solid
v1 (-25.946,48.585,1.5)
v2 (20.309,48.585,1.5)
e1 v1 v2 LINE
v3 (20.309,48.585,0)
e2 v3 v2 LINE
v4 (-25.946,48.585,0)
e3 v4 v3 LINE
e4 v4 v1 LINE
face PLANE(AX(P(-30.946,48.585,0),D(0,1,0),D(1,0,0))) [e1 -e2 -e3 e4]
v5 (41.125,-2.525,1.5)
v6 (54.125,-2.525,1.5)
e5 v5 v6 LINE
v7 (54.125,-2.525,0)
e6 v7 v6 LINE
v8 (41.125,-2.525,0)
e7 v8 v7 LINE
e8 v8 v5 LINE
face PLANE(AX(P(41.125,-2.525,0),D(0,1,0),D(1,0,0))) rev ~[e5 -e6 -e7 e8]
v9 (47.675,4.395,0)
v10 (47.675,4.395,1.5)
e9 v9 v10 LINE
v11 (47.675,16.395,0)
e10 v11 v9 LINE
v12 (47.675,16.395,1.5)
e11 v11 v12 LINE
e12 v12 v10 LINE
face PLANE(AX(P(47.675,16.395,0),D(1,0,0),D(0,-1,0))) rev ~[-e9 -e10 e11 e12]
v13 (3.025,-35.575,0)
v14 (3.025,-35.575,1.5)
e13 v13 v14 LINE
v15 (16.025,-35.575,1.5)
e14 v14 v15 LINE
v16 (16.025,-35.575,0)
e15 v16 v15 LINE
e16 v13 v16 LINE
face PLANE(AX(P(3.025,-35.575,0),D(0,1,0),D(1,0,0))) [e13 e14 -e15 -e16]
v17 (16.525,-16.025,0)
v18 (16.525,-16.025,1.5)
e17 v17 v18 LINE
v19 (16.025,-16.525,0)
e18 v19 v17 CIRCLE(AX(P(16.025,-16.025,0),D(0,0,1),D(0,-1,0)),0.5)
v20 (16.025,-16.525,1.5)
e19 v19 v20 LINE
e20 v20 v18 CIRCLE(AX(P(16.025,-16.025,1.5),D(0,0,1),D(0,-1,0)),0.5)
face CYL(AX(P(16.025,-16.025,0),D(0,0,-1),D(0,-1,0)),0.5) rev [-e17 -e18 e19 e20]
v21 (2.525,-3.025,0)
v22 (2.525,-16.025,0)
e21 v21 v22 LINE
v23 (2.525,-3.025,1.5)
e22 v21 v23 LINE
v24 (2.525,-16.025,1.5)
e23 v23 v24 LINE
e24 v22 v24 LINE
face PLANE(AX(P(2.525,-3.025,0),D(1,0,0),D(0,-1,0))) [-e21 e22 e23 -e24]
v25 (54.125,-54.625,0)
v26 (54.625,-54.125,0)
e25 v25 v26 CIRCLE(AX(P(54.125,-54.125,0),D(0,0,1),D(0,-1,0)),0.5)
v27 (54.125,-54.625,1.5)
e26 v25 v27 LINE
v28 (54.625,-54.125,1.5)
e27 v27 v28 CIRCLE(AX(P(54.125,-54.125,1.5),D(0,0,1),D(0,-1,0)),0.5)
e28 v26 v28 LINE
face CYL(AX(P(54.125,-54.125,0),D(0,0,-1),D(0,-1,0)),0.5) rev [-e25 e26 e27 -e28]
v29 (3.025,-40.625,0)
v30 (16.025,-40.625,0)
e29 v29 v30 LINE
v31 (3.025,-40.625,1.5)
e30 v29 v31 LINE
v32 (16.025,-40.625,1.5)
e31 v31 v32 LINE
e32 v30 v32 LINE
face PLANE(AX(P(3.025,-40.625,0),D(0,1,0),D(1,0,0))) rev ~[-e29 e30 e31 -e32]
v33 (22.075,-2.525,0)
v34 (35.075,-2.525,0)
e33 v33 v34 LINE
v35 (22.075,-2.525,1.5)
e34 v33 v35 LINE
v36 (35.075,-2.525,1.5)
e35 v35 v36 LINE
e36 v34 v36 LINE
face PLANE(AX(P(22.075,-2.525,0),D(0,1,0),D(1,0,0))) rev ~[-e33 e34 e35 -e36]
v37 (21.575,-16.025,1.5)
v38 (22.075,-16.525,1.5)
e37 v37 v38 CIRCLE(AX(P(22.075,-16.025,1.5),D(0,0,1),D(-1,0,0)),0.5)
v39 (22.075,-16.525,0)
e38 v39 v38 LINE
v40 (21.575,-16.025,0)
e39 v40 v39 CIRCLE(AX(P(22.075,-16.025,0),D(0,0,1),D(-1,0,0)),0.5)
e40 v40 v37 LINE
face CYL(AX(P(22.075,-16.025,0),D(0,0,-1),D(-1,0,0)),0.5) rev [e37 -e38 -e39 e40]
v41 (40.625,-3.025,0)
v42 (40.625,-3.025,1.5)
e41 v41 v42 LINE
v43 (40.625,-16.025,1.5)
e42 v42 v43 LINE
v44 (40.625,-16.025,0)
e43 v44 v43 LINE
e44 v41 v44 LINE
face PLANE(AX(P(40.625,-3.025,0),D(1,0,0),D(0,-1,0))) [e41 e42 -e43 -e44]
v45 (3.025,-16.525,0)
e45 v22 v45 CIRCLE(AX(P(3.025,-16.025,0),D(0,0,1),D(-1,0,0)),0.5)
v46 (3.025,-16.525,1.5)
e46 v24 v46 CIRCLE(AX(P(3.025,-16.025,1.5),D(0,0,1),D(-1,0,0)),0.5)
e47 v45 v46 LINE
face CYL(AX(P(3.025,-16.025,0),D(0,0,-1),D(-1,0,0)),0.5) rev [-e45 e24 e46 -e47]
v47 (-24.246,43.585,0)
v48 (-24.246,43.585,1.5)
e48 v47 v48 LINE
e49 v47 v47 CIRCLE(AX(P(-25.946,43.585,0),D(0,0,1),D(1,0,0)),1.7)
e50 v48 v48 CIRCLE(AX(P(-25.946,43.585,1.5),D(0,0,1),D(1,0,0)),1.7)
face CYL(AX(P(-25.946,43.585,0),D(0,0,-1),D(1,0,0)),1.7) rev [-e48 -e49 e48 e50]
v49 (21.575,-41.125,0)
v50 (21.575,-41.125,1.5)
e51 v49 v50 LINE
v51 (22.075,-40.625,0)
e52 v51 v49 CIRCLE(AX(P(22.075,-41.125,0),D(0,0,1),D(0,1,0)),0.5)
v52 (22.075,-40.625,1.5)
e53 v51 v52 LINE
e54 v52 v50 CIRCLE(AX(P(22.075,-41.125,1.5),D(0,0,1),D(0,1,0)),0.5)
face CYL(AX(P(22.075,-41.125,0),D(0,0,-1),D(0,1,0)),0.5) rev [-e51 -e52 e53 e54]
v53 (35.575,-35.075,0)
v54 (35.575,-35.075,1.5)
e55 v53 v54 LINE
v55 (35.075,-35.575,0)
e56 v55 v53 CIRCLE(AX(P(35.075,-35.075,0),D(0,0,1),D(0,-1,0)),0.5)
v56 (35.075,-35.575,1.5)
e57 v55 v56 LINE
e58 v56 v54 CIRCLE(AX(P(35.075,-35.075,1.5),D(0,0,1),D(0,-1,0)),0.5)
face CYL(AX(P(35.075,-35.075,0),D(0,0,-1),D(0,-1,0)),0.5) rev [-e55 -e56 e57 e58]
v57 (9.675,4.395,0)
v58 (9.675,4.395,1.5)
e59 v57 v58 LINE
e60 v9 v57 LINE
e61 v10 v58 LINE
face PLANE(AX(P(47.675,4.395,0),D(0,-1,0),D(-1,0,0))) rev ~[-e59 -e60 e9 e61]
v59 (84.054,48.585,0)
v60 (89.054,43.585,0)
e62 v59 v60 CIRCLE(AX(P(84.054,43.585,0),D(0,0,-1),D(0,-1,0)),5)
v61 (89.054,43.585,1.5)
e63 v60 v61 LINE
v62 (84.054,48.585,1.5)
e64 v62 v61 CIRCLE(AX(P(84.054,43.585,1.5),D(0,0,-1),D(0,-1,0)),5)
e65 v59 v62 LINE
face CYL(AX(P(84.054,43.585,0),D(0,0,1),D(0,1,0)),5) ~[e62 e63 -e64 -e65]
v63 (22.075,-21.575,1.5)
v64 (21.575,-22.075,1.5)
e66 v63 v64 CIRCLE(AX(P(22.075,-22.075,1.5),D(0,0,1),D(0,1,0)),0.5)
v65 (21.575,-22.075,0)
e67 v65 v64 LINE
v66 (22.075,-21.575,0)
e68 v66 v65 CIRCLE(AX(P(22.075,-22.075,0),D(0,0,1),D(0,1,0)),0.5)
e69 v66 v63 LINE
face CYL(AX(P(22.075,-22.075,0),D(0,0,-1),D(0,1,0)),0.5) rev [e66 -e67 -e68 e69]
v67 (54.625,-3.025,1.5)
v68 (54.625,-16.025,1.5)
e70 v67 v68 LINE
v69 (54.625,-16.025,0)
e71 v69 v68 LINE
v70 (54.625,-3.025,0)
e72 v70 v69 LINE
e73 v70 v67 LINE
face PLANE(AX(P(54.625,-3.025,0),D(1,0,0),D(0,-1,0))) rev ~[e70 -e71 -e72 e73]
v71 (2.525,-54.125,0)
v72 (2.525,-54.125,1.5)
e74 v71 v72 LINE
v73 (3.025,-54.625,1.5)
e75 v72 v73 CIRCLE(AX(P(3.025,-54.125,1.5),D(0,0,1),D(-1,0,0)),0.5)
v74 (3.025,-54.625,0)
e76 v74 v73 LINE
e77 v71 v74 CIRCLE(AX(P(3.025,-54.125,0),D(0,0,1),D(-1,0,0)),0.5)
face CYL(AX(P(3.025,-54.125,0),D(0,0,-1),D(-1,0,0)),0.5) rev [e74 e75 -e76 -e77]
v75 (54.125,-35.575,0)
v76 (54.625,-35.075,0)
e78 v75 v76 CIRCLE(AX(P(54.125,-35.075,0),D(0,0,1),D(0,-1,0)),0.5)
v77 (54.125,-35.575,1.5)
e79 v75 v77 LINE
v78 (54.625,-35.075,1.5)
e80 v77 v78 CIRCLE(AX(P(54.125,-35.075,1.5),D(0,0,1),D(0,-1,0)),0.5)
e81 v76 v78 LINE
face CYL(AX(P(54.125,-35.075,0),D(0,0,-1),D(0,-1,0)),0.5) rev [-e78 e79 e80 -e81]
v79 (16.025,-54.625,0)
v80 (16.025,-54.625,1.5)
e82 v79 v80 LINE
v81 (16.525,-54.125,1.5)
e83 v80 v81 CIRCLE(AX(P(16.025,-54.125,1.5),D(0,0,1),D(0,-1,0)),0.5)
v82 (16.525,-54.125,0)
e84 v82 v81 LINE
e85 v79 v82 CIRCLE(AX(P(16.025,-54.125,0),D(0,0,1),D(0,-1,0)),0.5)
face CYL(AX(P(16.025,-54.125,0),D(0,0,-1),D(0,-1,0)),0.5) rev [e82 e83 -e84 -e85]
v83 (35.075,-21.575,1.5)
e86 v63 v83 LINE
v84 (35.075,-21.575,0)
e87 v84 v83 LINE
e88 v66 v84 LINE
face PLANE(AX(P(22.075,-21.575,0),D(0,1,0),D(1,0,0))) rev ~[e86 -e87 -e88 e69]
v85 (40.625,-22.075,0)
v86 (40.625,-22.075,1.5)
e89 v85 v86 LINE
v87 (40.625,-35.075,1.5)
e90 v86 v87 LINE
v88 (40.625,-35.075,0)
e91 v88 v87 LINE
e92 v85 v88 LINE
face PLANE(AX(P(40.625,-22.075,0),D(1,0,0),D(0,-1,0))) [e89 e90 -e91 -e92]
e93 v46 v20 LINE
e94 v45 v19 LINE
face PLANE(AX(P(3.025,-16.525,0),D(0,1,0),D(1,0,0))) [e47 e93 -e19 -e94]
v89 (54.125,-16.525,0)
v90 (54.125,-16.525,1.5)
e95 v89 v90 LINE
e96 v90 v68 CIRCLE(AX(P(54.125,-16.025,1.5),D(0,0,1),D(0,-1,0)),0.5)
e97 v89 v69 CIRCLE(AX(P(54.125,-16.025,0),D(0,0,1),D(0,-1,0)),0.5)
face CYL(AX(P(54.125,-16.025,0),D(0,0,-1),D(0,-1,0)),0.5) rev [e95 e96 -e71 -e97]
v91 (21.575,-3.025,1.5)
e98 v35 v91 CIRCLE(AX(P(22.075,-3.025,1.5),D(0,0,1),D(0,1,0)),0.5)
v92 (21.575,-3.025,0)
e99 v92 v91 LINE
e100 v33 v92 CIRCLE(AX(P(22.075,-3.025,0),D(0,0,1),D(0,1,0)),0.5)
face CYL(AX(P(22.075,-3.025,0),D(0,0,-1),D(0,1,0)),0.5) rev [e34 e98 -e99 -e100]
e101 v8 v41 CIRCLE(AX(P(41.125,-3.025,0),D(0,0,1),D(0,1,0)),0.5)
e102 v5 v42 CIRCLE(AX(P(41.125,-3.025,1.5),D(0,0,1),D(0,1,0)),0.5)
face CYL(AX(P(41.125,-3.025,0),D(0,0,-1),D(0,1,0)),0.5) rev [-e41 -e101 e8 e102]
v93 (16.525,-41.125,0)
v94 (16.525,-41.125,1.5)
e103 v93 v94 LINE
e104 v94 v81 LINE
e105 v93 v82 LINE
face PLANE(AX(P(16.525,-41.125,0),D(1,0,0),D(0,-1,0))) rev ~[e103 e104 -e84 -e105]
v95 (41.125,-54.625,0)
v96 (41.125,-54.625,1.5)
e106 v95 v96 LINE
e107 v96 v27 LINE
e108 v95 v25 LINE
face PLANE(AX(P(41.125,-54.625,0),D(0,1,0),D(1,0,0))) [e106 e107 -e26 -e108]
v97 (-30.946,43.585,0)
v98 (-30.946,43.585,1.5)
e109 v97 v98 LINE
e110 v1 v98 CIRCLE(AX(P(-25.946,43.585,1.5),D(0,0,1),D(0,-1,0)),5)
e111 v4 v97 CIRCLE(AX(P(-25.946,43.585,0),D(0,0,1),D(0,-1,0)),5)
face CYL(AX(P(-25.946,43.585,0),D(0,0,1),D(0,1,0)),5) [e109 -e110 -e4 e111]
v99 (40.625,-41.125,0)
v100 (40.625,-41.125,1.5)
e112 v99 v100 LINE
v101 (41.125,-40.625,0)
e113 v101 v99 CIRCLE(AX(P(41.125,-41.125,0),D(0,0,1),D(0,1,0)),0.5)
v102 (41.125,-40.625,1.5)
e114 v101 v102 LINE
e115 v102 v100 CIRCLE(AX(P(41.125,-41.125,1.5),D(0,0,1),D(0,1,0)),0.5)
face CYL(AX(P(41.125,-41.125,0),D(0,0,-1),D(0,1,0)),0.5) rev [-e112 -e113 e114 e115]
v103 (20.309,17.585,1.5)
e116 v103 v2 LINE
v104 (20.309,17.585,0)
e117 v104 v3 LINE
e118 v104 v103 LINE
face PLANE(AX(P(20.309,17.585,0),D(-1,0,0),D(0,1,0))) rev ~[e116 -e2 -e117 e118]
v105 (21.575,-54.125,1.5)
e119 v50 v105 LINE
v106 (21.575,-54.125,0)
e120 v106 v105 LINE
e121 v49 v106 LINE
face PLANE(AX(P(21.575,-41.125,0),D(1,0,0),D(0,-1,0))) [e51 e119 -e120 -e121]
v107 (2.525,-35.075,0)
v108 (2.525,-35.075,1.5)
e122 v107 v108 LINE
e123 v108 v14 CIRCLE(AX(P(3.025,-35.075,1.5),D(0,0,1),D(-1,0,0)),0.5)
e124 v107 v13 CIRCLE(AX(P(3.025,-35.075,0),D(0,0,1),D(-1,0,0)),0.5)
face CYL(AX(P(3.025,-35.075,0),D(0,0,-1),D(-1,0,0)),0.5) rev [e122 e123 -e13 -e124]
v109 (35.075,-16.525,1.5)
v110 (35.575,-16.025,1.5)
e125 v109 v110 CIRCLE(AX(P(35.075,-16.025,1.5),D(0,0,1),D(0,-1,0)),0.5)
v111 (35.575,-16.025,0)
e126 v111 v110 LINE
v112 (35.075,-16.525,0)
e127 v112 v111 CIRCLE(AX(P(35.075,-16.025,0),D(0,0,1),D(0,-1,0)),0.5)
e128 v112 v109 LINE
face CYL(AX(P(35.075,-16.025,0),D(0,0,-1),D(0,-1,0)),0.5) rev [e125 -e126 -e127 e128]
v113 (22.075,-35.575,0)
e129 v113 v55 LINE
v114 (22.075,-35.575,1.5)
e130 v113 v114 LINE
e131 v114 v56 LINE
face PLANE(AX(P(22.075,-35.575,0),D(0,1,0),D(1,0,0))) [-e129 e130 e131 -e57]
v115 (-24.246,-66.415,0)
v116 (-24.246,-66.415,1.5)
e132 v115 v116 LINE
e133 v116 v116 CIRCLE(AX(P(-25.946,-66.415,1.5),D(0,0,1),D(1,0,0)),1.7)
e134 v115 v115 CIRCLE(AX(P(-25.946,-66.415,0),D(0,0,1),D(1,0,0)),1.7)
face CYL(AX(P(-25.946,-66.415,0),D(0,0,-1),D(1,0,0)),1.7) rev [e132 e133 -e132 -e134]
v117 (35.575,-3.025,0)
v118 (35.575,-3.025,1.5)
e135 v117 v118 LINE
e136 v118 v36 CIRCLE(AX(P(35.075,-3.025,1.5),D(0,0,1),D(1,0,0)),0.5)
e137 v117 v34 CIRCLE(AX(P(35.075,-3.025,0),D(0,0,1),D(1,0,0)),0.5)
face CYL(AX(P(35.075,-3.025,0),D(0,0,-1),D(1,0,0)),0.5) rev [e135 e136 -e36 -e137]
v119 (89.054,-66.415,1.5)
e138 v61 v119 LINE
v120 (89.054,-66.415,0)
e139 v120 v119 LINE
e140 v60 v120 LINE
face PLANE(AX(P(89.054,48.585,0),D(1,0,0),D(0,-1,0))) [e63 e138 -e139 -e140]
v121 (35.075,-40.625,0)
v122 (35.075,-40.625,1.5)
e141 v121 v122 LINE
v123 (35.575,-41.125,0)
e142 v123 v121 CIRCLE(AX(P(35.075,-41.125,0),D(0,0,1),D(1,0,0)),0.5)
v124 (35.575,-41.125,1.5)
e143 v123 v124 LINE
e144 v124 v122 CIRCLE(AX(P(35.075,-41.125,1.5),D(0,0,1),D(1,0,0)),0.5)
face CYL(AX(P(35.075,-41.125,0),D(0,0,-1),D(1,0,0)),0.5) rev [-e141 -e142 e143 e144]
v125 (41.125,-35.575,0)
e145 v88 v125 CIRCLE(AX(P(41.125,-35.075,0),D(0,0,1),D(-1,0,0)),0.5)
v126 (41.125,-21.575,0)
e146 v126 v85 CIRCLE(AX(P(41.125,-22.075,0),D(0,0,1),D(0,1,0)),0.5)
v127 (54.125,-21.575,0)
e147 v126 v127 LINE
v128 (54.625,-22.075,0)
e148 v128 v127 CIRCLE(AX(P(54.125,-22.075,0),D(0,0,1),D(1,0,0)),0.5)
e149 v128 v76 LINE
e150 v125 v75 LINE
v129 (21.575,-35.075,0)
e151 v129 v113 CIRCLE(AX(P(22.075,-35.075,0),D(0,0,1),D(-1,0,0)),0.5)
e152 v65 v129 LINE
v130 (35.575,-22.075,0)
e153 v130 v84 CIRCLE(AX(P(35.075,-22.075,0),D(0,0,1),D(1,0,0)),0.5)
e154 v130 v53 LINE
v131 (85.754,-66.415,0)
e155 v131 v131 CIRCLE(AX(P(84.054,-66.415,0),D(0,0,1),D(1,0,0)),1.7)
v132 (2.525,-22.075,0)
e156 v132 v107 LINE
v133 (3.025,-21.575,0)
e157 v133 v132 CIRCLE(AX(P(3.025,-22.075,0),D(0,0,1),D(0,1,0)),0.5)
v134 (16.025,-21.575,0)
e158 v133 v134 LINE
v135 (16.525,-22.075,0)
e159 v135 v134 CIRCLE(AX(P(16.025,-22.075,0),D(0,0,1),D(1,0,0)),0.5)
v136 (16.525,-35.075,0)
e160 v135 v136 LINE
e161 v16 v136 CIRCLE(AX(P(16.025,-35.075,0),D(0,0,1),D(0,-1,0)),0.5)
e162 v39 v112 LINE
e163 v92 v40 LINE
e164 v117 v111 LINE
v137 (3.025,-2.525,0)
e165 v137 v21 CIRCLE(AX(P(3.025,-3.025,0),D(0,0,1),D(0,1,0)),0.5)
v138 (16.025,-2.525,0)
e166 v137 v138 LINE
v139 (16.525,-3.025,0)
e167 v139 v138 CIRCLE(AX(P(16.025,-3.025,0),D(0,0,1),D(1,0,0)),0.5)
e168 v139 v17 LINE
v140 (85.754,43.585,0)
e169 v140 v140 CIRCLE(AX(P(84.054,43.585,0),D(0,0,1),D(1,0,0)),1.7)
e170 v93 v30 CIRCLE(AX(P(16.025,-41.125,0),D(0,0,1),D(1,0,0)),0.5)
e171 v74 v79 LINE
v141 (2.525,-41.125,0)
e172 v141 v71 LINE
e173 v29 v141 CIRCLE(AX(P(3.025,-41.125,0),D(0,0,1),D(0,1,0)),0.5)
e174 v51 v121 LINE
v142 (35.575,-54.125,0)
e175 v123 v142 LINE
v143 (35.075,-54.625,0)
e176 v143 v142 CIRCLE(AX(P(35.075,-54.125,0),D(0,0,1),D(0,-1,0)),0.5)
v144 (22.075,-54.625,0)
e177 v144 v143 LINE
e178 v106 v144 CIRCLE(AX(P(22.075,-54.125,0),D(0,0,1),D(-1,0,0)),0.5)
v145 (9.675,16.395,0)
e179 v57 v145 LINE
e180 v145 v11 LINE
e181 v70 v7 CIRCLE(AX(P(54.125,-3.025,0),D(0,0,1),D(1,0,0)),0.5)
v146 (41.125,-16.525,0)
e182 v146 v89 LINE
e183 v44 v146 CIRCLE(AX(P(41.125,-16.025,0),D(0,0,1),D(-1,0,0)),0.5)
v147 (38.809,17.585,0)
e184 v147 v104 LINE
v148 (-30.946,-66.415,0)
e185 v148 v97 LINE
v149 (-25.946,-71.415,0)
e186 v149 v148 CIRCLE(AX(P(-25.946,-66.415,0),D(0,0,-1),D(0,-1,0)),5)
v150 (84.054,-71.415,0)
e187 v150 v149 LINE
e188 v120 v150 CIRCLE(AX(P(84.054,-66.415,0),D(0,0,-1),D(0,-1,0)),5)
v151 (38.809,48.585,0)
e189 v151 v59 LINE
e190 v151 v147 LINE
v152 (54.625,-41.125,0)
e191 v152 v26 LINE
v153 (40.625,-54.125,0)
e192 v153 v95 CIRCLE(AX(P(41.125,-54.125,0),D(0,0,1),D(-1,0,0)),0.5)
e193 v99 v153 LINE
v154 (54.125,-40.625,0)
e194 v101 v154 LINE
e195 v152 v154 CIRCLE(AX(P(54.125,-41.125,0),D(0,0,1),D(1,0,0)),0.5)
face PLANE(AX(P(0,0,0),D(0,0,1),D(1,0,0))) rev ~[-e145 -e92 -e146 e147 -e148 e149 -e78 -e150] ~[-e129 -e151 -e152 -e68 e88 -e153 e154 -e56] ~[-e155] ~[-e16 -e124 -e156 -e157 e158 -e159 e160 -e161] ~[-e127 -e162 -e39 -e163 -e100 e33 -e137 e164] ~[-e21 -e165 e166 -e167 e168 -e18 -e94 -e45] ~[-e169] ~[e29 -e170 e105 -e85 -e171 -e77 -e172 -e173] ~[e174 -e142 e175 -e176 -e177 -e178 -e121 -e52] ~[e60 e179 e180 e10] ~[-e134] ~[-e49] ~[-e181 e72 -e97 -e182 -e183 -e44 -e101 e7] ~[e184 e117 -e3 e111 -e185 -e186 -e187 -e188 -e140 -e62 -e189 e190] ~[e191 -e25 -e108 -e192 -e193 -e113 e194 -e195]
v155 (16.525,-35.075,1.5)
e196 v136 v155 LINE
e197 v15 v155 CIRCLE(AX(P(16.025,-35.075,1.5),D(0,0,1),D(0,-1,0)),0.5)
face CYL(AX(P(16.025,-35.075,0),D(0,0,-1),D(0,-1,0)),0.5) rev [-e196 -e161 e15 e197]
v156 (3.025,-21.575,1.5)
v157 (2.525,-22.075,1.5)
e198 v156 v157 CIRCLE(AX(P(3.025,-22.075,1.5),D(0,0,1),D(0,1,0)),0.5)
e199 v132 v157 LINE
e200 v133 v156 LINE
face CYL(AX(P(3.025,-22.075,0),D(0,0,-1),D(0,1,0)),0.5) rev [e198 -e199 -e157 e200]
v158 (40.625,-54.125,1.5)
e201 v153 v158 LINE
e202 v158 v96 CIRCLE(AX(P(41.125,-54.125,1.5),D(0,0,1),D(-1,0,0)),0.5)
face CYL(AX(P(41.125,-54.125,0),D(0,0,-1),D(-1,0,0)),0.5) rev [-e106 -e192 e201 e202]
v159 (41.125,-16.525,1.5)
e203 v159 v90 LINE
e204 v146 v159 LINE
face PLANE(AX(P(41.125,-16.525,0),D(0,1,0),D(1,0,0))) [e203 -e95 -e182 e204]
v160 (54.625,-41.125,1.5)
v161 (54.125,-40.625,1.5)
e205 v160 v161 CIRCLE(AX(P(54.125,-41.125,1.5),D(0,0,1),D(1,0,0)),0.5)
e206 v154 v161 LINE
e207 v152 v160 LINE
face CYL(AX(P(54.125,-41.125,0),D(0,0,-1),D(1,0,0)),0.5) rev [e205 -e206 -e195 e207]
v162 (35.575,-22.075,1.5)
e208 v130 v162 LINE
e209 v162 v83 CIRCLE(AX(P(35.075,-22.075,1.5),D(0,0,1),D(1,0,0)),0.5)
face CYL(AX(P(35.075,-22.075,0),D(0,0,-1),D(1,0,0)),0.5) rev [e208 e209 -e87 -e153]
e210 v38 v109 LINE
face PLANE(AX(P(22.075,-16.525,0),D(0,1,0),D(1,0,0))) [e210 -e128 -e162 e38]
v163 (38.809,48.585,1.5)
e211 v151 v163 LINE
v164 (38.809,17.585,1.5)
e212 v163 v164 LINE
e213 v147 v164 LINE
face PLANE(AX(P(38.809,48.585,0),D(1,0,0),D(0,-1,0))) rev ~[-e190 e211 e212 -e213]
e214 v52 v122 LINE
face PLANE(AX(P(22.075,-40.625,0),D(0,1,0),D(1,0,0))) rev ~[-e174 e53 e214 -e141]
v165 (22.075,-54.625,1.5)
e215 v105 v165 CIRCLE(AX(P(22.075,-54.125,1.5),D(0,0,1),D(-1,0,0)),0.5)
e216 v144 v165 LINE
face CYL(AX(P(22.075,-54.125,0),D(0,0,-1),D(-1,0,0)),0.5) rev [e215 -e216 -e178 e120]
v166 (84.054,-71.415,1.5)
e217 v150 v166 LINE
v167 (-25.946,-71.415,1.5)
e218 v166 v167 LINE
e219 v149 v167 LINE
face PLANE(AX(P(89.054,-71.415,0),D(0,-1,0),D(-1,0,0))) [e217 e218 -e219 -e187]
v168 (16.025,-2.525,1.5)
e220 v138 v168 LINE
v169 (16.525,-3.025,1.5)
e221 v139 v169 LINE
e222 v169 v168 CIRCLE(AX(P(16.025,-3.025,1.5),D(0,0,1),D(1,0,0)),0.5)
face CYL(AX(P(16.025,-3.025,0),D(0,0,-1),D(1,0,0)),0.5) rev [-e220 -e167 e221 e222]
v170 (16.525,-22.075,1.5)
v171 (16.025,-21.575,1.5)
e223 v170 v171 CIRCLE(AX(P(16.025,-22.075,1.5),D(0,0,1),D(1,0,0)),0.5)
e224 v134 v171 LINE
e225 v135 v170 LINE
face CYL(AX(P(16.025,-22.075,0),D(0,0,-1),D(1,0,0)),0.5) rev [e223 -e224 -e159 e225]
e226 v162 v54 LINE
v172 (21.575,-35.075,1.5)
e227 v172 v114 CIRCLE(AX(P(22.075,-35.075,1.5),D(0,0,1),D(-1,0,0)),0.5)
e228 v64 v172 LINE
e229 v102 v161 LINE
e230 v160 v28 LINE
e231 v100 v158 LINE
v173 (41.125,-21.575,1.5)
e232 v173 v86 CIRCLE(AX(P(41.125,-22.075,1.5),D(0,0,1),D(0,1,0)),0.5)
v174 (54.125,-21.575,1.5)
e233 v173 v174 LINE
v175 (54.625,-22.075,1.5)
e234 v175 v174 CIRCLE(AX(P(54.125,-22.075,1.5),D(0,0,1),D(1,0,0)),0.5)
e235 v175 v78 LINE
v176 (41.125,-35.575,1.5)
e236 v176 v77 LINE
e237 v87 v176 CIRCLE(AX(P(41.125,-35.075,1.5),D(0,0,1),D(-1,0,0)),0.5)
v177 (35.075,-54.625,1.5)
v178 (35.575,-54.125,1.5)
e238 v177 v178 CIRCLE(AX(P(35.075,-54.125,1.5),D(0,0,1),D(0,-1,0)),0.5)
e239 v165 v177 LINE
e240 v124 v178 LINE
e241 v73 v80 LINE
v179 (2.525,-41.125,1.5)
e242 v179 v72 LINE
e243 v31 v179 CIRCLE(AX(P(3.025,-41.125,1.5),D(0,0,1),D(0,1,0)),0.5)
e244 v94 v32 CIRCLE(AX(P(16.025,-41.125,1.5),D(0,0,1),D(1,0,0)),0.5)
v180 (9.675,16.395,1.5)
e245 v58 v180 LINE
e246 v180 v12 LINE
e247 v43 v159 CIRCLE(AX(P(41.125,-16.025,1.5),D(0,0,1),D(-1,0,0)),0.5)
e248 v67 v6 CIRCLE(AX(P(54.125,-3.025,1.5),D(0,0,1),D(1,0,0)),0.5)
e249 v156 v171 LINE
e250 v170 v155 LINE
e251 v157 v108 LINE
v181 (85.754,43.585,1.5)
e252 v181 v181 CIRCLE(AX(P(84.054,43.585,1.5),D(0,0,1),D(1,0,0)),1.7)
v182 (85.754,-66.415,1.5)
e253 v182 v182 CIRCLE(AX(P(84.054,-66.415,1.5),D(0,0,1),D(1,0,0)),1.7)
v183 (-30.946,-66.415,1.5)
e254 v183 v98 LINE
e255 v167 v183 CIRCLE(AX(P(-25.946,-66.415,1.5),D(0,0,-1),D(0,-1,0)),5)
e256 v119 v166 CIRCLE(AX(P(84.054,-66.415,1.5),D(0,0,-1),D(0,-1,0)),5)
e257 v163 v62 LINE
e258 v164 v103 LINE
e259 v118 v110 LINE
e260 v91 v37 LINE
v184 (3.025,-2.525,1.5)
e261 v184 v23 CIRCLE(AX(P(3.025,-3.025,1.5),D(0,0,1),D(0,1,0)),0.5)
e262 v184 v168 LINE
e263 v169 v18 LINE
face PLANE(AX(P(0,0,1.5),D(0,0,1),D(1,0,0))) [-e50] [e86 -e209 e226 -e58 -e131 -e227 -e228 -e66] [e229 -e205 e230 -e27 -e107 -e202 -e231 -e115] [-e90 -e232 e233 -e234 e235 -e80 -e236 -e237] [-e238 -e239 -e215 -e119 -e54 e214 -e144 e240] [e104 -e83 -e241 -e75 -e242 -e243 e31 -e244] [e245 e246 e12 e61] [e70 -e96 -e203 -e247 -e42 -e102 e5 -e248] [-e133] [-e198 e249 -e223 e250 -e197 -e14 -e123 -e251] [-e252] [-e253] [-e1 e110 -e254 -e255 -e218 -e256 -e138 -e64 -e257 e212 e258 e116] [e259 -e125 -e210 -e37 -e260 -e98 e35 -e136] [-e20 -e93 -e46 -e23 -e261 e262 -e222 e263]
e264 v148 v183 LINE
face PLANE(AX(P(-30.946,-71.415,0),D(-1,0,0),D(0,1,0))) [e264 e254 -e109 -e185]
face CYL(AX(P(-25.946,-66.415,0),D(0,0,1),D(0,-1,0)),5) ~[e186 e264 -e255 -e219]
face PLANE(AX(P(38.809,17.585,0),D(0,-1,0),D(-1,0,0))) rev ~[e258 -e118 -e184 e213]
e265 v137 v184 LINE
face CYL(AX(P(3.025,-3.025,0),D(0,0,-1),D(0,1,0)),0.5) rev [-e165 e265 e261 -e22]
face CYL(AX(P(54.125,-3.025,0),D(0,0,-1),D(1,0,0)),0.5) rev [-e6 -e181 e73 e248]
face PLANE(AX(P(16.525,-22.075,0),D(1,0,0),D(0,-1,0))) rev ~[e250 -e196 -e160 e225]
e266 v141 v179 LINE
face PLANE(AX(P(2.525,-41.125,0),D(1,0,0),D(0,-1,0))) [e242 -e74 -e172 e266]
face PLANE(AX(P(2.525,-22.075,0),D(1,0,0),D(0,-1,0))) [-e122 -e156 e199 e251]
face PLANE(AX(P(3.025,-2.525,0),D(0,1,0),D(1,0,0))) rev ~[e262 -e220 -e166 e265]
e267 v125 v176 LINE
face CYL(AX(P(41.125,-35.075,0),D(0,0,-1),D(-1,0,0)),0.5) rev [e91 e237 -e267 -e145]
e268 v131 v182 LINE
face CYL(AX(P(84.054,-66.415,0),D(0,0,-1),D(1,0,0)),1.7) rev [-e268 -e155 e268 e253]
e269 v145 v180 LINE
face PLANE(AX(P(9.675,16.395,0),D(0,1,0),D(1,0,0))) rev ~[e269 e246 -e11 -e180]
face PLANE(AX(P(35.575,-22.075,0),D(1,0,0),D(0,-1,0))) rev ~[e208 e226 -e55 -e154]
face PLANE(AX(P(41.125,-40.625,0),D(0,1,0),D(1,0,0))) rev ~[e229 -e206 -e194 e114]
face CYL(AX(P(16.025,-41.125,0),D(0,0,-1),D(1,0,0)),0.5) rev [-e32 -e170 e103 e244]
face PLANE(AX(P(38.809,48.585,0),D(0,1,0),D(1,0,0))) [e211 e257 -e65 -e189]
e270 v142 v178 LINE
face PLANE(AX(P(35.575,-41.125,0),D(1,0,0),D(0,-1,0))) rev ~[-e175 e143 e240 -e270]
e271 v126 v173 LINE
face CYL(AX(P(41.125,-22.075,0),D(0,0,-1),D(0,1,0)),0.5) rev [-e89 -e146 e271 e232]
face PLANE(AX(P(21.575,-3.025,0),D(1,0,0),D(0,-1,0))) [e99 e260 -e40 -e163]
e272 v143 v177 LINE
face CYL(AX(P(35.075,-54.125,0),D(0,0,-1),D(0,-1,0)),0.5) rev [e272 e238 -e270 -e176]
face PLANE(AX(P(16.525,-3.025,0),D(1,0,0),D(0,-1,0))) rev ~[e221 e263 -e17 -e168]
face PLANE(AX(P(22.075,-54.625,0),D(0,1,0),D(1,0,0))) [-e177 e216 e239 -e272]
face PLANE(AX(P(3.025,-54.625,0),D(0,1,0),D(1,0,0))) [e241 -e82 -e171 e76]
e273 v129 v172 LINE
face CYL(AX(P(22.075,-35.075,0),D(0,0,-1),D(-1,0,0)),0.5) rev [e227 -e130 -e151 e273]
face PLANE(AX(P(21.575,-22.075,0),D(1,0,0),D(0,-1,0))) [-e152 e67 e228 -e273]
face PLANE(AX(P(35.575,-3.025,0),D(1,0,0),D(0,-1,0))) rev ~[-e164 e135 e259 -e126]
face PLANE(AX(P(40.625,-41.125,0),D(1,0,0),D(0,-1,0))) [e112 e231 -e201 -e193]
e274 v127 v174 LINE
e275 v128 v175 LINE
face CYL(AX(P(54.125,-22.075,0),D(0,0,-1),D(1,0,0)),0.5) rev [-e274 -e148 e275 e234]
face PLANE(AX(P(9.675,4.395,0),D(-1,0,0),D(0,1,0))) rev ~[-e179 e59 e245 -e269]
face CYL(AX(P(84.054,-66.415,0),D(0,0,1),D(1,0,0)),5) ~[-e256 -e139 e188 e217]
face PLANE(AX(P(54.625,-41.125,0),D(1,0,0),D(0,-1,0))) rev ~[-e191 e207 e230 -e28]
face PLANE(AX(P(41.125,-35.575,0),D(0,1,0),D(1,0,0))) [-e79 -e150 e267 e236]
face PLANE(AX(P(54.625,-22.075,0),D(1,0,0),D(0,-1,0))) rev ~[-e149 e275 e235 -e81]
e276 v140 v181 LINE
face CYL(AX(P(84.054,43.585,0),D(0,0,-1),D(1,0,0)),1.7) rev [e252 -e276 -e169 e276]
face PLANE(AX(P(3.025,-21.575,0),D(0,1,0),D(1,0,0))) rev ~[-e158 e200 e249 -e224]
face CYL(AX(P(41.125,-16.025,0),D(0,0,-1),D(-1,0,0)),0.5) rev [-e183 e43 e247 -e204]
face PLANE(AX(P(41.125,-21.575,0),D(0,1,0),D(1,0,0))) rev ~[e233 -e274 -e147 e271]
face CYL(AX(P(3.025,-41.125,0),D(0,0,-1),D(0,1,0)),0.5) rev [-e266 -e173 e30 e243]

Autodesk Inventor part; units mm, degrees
ref_plane "YZ Plane" through (0, 0, 0) normal (1, 0, 0) x (0, 1, 0)
ref_plane "XZ Plane" through (0, 0, 0) normal (0, 1, 0) x (-1, 0, 0)
ref_plane "XY Plane" through (0, 0, 0) normal (0, 0, 1) x (1, 0, 0)
sketch "Sketch1" plane through (0, 0, 0) normal (0, 0, 1) x (1, 0, 0)
  point P0 (0, 0)
sketch "0" plane through (0, 0, 0) normal (0, 0, 1) x (1, 0, 0)
  line L0 (3.025, -2.525) -> (16.025, -2.525)
  line L1 (3.025, -16.525) -> (16.025, -16.525)
  line L2 (2.525, -3.025) -> (2.525, -16.025)
  line L3 (16.525, -3.025) -> (16.525, -16.025)
  arc A0 (3.025, -2.525) -> (2.525, -3.025) centre (3.025, -3.025) ccw
  arc A1 (16.525, -3.025) -> (16.025, -2.525) centre (16.025, -3.025) ccw
  arc A2 (2.525, -16.025) -> (3.025, -16.525) centre (3.025, -16.025) ccw
  arc A3 (16.025, -16.525) -> (16.525, -16.025) centre (16.025, -16.025) ccw
  line L4 (22.075, -2.525) -> (35.075, -2.525)
  line L5 (22.075, -16.525) -> (35.075, -16.525)
  line L6 (21.575, -3.025) -> (21.575, -16.025)
  line L7 (35.575, -3.025) -> (35.575, -16.025)
  arc A4 (22.075, -2.525) -> (21.575, -3.025) centre (22.075, -3.025) ccw
  arc A5 (35.575, -3.025) -> (35.075, -2.525) centre (35.075, -3.025) ccw
  arc A6 (21.575, -16.025) -> (22.075, -16.525) centre (22.075, -16.025) ccw
  arc A7 (35.075, -16.525) -> (35.575, -16.025) centre (35.075, -16.025) ccw
  line L8 (41.125, -2.525) -> (54.125, -2.525)
  line L9 (41.125, -16.525) -> (54.125, -16.525)
  line L10 (40.625, -3.025) -> (40.625, -16.025)
  line L11 (54.625, -3.025) -> (54.625, -16.025)
  arc A8 (41.125, -2.525) -> (40.625, -3.025) centre (41.125, -3.025) ccw
  arc A9 (54.625, -3.025) -> (54.125, -2.525) centre (54.125, -3.025) ccw
  arc A10 (40.625, -16.025) -> (41.125, -16.525) centre (41.125, -16.025) ccw
  arc A11 (54.125, -16.525) -> (54.625, -16.025) centre (54.125, -16.025) ccw
  line L12 (3.025, -21.575) -> (16.025, -21.575)
  line L13 (3.025, -35.575) -> (16.025, -35.575)
  line L14 (2.525, -22.075) -> (2.525, -35.075)
  line L15 (16.525, -22.075) -> (16.525, -35.075)
  arc A12 (3.025, -21.575) -> (2.525, -22.075) centre (3.025, -22.075) ccw
  arc A13 (16.525, -22.075) -> (16.025, -21.575) centre (16.025, -22.075) ccw
  arc A14 (2.525, -35.075) -> (3.025, -35.575) centre (3.025, -35.075) ccw
  arc A15 (16.025, -35.575) -> (16.525, -35.075) centre (16.025, -35.075) ccw
  line L16 (22.075, -21.575) -> (35.075, -21.575)
  line L17 (22.075, -35.575) -> (35.075, -35.575)
  line L18 (21.575, -22.075) -> (21.575, -35.075)
  line L19 (35.575, -22.075) -> (35.575, -35.075)
  arc A16 (22.075, -21.575) -> (21.575, -22.075) centre (22.075, -22.075) ccw
  arc A17 (35.575, -22.075) -> (35.075, -21.575) centre (35.075, -22.075) ccw
  arc A18 (21.575, -35.075) -> (22.075, -35.575) centre (22.075, -35.075) ccw
  arc A19 (35.075, -35.575) -> (35.575, -35.075) centre (35.075, -35.075) ccw
  line L20 (41.125, -21.575) -> (54.125, -21.575)
  line L21 (41.125, -35.575) -> (54.125, -35.575)
  line L22 (40.625, -22.075) -> (40.625, -35.075)
  line L23 (54.625, -22.075) -> (54.625, -35.075)
  arc A20 (41.125, -21.575) -> (40.625, -22.075) centre (41.125, -22.075) ccw
  arc A21 (54.625, -22.075) -> (54.125, -21.575) centre (54.125, -22.075) ccw
  arc A22 (40.625, -35.075) -> (41.125, -35.575) centre (41.125, -35.075) ccw
  arc A23 (54.125, -35.575) -> (54.625, -35.075) centre (54.125, -35.075) ccw
  line L24 (3.025, -40.625) -> (16.025, -40.625)
  line L25 (3.025, -54.625) -> (16.025, -54.625)
  line L26 (2.525, -41.125) -> (2.525, -54.125)
  line L27 (16.525, -41.125) -> (16.525, -54.125)
  arc A24 (3.025, -40.625) -> (2.525, -41.125) centre (3.025, -41.125) ccw
  arc A25 (16.525, -41.125) -> (16.025, -40.625) centre (16.025, -41.125) ccw
  arc A26 (2.525, -54.125) -> (3.025, -54.625) centre (3.025, -54.125) ccw
  arc A27 (16.025, -54.625) -> (16.525, -54.125) centre (16.025, -54.125) ccw
  line L28 (22.075, -40.625) -> (35.075, -40.625)
  line L29 (22.075, -54.625) -> (35.075, -54.625)
  line L30 (21.575, -41.125) -> (21.575, -54.125)
  line L31 (35.575, -41.125) -> (35.575, -54.125)
  arc A28 (22.075, -40.625) -> (21.575, -41.125) centre (22.075, -41.125) ccw
  arc A29 (35.575, -41.125) -> (35.075, -40.625) centre (35.075, -41.125) ccw
  arc A30 (21.575, -54.125) -> (22.075, -54.625) centre (22.075, -54.125) ccw
  arc A31 (35.075, -54.625) -> (35.575, -54.125) centre (35.075, -54.125) ccw
  line L32 (41.125, -40.625) -> (54.125, -40.625)
  line L33 (41.125, -54.625) -> (54.125, -54.625)
  line L34 (40.625, -41.125) -> (40.625, -54.125)
  line L35 (54.625, -41.125) -> (54.625, -54.125)
  arc A32 (41.125, -40.625) -> (40.625, -41.125) centre (41.125, -41.125) ccw
  arc A33 (54.625, -41.125) -> (54.125, -40.625) centre (54.125, -41.125) ccw
  arc A34 (40.625, -54.125) -> (41.125, -54.625) centre (41.125, -54.125) ccw
  arc A35 (54.125, -54.625) -> (54.625, -54.125) centre (54.125, -54.125) ccw
  line L36 (-30.946, 48.585) -> (89.054, 48.585)
  line L37 (89.054, 48.585) -> (89.054, -71.415)
  line L38 (89.054, -71.415) -> (-30.946, -71.415)
  line L39 (-30.946, -71.415) -> (-30.946, 48.585)
  line L40 (20.309, 48.585) -> (38.809, 48.585)
  line L41 (38.809, 48.585) -> (38.809, 17.585)
  line L42 (38.809, 17.585) -> (20.309, 17.585)
  line L43 (20.309, 17.585) -> (20.309, 48.585)
  circle A36 centre (-25.946, 43.585) radius 1.7
  circle A37 centre (84.054, 43.585) radius 1.7
  circle A38 centre (84.054, -66.415) radius 1.7
  circle A39 centre (-25.946, -66.415) radius 1.7
  line L44 (9.675, 16.395) -> (47.675, 16.395)
  line L45 (47.675, 16.395) -> (47.675, 4.395)
  line L46 (47.675, 4.395) -> (9.675, 4.395)
  line L47 (9.675, 4.395) -> (9.675, 16.395)
  point P0 (9.525, -54.625)
  dimension "d0" = 120
  dimension "d1" = 120
  dimension "d2" = 33.471
  dimension "d3" = 16.79
  dimension "d4" = 18.5
  dimension "d5" = 31
  dimension "d6" = 51.255
  dimension "d7" = 3.4
  dimension "d8" = 3.4
  dimension "d9" = 3.4
  dimension "d10" = 3.4
  dimension "d11" = 5
  dimension "d12" = 5
  dimension "d13" = 5
  dimension "d14" = 5
  dimension "d15" = 5
  dimension "d16" = 5
  dimension "d17" = 5
  dimension "d18" = 5
  dimension "d19" = 38
  dimension "d20" = 12
  dimension "d21" = 40.621
  dimension "d22" = 32.19
extrude "Extrusion1" add sketch "0" along normal blind 1.5 contours L36 L43 L42 L41 L37 L38 L39
fillet "Fillet1" radius 5 4 edges at (-30.946, -71.415, 0.75) (89.054, -71.415, 0.75) (89.054, 48.585, 0.75) (-30.946, 48.585, 0.75)
properties part number "Top_Case_New"
